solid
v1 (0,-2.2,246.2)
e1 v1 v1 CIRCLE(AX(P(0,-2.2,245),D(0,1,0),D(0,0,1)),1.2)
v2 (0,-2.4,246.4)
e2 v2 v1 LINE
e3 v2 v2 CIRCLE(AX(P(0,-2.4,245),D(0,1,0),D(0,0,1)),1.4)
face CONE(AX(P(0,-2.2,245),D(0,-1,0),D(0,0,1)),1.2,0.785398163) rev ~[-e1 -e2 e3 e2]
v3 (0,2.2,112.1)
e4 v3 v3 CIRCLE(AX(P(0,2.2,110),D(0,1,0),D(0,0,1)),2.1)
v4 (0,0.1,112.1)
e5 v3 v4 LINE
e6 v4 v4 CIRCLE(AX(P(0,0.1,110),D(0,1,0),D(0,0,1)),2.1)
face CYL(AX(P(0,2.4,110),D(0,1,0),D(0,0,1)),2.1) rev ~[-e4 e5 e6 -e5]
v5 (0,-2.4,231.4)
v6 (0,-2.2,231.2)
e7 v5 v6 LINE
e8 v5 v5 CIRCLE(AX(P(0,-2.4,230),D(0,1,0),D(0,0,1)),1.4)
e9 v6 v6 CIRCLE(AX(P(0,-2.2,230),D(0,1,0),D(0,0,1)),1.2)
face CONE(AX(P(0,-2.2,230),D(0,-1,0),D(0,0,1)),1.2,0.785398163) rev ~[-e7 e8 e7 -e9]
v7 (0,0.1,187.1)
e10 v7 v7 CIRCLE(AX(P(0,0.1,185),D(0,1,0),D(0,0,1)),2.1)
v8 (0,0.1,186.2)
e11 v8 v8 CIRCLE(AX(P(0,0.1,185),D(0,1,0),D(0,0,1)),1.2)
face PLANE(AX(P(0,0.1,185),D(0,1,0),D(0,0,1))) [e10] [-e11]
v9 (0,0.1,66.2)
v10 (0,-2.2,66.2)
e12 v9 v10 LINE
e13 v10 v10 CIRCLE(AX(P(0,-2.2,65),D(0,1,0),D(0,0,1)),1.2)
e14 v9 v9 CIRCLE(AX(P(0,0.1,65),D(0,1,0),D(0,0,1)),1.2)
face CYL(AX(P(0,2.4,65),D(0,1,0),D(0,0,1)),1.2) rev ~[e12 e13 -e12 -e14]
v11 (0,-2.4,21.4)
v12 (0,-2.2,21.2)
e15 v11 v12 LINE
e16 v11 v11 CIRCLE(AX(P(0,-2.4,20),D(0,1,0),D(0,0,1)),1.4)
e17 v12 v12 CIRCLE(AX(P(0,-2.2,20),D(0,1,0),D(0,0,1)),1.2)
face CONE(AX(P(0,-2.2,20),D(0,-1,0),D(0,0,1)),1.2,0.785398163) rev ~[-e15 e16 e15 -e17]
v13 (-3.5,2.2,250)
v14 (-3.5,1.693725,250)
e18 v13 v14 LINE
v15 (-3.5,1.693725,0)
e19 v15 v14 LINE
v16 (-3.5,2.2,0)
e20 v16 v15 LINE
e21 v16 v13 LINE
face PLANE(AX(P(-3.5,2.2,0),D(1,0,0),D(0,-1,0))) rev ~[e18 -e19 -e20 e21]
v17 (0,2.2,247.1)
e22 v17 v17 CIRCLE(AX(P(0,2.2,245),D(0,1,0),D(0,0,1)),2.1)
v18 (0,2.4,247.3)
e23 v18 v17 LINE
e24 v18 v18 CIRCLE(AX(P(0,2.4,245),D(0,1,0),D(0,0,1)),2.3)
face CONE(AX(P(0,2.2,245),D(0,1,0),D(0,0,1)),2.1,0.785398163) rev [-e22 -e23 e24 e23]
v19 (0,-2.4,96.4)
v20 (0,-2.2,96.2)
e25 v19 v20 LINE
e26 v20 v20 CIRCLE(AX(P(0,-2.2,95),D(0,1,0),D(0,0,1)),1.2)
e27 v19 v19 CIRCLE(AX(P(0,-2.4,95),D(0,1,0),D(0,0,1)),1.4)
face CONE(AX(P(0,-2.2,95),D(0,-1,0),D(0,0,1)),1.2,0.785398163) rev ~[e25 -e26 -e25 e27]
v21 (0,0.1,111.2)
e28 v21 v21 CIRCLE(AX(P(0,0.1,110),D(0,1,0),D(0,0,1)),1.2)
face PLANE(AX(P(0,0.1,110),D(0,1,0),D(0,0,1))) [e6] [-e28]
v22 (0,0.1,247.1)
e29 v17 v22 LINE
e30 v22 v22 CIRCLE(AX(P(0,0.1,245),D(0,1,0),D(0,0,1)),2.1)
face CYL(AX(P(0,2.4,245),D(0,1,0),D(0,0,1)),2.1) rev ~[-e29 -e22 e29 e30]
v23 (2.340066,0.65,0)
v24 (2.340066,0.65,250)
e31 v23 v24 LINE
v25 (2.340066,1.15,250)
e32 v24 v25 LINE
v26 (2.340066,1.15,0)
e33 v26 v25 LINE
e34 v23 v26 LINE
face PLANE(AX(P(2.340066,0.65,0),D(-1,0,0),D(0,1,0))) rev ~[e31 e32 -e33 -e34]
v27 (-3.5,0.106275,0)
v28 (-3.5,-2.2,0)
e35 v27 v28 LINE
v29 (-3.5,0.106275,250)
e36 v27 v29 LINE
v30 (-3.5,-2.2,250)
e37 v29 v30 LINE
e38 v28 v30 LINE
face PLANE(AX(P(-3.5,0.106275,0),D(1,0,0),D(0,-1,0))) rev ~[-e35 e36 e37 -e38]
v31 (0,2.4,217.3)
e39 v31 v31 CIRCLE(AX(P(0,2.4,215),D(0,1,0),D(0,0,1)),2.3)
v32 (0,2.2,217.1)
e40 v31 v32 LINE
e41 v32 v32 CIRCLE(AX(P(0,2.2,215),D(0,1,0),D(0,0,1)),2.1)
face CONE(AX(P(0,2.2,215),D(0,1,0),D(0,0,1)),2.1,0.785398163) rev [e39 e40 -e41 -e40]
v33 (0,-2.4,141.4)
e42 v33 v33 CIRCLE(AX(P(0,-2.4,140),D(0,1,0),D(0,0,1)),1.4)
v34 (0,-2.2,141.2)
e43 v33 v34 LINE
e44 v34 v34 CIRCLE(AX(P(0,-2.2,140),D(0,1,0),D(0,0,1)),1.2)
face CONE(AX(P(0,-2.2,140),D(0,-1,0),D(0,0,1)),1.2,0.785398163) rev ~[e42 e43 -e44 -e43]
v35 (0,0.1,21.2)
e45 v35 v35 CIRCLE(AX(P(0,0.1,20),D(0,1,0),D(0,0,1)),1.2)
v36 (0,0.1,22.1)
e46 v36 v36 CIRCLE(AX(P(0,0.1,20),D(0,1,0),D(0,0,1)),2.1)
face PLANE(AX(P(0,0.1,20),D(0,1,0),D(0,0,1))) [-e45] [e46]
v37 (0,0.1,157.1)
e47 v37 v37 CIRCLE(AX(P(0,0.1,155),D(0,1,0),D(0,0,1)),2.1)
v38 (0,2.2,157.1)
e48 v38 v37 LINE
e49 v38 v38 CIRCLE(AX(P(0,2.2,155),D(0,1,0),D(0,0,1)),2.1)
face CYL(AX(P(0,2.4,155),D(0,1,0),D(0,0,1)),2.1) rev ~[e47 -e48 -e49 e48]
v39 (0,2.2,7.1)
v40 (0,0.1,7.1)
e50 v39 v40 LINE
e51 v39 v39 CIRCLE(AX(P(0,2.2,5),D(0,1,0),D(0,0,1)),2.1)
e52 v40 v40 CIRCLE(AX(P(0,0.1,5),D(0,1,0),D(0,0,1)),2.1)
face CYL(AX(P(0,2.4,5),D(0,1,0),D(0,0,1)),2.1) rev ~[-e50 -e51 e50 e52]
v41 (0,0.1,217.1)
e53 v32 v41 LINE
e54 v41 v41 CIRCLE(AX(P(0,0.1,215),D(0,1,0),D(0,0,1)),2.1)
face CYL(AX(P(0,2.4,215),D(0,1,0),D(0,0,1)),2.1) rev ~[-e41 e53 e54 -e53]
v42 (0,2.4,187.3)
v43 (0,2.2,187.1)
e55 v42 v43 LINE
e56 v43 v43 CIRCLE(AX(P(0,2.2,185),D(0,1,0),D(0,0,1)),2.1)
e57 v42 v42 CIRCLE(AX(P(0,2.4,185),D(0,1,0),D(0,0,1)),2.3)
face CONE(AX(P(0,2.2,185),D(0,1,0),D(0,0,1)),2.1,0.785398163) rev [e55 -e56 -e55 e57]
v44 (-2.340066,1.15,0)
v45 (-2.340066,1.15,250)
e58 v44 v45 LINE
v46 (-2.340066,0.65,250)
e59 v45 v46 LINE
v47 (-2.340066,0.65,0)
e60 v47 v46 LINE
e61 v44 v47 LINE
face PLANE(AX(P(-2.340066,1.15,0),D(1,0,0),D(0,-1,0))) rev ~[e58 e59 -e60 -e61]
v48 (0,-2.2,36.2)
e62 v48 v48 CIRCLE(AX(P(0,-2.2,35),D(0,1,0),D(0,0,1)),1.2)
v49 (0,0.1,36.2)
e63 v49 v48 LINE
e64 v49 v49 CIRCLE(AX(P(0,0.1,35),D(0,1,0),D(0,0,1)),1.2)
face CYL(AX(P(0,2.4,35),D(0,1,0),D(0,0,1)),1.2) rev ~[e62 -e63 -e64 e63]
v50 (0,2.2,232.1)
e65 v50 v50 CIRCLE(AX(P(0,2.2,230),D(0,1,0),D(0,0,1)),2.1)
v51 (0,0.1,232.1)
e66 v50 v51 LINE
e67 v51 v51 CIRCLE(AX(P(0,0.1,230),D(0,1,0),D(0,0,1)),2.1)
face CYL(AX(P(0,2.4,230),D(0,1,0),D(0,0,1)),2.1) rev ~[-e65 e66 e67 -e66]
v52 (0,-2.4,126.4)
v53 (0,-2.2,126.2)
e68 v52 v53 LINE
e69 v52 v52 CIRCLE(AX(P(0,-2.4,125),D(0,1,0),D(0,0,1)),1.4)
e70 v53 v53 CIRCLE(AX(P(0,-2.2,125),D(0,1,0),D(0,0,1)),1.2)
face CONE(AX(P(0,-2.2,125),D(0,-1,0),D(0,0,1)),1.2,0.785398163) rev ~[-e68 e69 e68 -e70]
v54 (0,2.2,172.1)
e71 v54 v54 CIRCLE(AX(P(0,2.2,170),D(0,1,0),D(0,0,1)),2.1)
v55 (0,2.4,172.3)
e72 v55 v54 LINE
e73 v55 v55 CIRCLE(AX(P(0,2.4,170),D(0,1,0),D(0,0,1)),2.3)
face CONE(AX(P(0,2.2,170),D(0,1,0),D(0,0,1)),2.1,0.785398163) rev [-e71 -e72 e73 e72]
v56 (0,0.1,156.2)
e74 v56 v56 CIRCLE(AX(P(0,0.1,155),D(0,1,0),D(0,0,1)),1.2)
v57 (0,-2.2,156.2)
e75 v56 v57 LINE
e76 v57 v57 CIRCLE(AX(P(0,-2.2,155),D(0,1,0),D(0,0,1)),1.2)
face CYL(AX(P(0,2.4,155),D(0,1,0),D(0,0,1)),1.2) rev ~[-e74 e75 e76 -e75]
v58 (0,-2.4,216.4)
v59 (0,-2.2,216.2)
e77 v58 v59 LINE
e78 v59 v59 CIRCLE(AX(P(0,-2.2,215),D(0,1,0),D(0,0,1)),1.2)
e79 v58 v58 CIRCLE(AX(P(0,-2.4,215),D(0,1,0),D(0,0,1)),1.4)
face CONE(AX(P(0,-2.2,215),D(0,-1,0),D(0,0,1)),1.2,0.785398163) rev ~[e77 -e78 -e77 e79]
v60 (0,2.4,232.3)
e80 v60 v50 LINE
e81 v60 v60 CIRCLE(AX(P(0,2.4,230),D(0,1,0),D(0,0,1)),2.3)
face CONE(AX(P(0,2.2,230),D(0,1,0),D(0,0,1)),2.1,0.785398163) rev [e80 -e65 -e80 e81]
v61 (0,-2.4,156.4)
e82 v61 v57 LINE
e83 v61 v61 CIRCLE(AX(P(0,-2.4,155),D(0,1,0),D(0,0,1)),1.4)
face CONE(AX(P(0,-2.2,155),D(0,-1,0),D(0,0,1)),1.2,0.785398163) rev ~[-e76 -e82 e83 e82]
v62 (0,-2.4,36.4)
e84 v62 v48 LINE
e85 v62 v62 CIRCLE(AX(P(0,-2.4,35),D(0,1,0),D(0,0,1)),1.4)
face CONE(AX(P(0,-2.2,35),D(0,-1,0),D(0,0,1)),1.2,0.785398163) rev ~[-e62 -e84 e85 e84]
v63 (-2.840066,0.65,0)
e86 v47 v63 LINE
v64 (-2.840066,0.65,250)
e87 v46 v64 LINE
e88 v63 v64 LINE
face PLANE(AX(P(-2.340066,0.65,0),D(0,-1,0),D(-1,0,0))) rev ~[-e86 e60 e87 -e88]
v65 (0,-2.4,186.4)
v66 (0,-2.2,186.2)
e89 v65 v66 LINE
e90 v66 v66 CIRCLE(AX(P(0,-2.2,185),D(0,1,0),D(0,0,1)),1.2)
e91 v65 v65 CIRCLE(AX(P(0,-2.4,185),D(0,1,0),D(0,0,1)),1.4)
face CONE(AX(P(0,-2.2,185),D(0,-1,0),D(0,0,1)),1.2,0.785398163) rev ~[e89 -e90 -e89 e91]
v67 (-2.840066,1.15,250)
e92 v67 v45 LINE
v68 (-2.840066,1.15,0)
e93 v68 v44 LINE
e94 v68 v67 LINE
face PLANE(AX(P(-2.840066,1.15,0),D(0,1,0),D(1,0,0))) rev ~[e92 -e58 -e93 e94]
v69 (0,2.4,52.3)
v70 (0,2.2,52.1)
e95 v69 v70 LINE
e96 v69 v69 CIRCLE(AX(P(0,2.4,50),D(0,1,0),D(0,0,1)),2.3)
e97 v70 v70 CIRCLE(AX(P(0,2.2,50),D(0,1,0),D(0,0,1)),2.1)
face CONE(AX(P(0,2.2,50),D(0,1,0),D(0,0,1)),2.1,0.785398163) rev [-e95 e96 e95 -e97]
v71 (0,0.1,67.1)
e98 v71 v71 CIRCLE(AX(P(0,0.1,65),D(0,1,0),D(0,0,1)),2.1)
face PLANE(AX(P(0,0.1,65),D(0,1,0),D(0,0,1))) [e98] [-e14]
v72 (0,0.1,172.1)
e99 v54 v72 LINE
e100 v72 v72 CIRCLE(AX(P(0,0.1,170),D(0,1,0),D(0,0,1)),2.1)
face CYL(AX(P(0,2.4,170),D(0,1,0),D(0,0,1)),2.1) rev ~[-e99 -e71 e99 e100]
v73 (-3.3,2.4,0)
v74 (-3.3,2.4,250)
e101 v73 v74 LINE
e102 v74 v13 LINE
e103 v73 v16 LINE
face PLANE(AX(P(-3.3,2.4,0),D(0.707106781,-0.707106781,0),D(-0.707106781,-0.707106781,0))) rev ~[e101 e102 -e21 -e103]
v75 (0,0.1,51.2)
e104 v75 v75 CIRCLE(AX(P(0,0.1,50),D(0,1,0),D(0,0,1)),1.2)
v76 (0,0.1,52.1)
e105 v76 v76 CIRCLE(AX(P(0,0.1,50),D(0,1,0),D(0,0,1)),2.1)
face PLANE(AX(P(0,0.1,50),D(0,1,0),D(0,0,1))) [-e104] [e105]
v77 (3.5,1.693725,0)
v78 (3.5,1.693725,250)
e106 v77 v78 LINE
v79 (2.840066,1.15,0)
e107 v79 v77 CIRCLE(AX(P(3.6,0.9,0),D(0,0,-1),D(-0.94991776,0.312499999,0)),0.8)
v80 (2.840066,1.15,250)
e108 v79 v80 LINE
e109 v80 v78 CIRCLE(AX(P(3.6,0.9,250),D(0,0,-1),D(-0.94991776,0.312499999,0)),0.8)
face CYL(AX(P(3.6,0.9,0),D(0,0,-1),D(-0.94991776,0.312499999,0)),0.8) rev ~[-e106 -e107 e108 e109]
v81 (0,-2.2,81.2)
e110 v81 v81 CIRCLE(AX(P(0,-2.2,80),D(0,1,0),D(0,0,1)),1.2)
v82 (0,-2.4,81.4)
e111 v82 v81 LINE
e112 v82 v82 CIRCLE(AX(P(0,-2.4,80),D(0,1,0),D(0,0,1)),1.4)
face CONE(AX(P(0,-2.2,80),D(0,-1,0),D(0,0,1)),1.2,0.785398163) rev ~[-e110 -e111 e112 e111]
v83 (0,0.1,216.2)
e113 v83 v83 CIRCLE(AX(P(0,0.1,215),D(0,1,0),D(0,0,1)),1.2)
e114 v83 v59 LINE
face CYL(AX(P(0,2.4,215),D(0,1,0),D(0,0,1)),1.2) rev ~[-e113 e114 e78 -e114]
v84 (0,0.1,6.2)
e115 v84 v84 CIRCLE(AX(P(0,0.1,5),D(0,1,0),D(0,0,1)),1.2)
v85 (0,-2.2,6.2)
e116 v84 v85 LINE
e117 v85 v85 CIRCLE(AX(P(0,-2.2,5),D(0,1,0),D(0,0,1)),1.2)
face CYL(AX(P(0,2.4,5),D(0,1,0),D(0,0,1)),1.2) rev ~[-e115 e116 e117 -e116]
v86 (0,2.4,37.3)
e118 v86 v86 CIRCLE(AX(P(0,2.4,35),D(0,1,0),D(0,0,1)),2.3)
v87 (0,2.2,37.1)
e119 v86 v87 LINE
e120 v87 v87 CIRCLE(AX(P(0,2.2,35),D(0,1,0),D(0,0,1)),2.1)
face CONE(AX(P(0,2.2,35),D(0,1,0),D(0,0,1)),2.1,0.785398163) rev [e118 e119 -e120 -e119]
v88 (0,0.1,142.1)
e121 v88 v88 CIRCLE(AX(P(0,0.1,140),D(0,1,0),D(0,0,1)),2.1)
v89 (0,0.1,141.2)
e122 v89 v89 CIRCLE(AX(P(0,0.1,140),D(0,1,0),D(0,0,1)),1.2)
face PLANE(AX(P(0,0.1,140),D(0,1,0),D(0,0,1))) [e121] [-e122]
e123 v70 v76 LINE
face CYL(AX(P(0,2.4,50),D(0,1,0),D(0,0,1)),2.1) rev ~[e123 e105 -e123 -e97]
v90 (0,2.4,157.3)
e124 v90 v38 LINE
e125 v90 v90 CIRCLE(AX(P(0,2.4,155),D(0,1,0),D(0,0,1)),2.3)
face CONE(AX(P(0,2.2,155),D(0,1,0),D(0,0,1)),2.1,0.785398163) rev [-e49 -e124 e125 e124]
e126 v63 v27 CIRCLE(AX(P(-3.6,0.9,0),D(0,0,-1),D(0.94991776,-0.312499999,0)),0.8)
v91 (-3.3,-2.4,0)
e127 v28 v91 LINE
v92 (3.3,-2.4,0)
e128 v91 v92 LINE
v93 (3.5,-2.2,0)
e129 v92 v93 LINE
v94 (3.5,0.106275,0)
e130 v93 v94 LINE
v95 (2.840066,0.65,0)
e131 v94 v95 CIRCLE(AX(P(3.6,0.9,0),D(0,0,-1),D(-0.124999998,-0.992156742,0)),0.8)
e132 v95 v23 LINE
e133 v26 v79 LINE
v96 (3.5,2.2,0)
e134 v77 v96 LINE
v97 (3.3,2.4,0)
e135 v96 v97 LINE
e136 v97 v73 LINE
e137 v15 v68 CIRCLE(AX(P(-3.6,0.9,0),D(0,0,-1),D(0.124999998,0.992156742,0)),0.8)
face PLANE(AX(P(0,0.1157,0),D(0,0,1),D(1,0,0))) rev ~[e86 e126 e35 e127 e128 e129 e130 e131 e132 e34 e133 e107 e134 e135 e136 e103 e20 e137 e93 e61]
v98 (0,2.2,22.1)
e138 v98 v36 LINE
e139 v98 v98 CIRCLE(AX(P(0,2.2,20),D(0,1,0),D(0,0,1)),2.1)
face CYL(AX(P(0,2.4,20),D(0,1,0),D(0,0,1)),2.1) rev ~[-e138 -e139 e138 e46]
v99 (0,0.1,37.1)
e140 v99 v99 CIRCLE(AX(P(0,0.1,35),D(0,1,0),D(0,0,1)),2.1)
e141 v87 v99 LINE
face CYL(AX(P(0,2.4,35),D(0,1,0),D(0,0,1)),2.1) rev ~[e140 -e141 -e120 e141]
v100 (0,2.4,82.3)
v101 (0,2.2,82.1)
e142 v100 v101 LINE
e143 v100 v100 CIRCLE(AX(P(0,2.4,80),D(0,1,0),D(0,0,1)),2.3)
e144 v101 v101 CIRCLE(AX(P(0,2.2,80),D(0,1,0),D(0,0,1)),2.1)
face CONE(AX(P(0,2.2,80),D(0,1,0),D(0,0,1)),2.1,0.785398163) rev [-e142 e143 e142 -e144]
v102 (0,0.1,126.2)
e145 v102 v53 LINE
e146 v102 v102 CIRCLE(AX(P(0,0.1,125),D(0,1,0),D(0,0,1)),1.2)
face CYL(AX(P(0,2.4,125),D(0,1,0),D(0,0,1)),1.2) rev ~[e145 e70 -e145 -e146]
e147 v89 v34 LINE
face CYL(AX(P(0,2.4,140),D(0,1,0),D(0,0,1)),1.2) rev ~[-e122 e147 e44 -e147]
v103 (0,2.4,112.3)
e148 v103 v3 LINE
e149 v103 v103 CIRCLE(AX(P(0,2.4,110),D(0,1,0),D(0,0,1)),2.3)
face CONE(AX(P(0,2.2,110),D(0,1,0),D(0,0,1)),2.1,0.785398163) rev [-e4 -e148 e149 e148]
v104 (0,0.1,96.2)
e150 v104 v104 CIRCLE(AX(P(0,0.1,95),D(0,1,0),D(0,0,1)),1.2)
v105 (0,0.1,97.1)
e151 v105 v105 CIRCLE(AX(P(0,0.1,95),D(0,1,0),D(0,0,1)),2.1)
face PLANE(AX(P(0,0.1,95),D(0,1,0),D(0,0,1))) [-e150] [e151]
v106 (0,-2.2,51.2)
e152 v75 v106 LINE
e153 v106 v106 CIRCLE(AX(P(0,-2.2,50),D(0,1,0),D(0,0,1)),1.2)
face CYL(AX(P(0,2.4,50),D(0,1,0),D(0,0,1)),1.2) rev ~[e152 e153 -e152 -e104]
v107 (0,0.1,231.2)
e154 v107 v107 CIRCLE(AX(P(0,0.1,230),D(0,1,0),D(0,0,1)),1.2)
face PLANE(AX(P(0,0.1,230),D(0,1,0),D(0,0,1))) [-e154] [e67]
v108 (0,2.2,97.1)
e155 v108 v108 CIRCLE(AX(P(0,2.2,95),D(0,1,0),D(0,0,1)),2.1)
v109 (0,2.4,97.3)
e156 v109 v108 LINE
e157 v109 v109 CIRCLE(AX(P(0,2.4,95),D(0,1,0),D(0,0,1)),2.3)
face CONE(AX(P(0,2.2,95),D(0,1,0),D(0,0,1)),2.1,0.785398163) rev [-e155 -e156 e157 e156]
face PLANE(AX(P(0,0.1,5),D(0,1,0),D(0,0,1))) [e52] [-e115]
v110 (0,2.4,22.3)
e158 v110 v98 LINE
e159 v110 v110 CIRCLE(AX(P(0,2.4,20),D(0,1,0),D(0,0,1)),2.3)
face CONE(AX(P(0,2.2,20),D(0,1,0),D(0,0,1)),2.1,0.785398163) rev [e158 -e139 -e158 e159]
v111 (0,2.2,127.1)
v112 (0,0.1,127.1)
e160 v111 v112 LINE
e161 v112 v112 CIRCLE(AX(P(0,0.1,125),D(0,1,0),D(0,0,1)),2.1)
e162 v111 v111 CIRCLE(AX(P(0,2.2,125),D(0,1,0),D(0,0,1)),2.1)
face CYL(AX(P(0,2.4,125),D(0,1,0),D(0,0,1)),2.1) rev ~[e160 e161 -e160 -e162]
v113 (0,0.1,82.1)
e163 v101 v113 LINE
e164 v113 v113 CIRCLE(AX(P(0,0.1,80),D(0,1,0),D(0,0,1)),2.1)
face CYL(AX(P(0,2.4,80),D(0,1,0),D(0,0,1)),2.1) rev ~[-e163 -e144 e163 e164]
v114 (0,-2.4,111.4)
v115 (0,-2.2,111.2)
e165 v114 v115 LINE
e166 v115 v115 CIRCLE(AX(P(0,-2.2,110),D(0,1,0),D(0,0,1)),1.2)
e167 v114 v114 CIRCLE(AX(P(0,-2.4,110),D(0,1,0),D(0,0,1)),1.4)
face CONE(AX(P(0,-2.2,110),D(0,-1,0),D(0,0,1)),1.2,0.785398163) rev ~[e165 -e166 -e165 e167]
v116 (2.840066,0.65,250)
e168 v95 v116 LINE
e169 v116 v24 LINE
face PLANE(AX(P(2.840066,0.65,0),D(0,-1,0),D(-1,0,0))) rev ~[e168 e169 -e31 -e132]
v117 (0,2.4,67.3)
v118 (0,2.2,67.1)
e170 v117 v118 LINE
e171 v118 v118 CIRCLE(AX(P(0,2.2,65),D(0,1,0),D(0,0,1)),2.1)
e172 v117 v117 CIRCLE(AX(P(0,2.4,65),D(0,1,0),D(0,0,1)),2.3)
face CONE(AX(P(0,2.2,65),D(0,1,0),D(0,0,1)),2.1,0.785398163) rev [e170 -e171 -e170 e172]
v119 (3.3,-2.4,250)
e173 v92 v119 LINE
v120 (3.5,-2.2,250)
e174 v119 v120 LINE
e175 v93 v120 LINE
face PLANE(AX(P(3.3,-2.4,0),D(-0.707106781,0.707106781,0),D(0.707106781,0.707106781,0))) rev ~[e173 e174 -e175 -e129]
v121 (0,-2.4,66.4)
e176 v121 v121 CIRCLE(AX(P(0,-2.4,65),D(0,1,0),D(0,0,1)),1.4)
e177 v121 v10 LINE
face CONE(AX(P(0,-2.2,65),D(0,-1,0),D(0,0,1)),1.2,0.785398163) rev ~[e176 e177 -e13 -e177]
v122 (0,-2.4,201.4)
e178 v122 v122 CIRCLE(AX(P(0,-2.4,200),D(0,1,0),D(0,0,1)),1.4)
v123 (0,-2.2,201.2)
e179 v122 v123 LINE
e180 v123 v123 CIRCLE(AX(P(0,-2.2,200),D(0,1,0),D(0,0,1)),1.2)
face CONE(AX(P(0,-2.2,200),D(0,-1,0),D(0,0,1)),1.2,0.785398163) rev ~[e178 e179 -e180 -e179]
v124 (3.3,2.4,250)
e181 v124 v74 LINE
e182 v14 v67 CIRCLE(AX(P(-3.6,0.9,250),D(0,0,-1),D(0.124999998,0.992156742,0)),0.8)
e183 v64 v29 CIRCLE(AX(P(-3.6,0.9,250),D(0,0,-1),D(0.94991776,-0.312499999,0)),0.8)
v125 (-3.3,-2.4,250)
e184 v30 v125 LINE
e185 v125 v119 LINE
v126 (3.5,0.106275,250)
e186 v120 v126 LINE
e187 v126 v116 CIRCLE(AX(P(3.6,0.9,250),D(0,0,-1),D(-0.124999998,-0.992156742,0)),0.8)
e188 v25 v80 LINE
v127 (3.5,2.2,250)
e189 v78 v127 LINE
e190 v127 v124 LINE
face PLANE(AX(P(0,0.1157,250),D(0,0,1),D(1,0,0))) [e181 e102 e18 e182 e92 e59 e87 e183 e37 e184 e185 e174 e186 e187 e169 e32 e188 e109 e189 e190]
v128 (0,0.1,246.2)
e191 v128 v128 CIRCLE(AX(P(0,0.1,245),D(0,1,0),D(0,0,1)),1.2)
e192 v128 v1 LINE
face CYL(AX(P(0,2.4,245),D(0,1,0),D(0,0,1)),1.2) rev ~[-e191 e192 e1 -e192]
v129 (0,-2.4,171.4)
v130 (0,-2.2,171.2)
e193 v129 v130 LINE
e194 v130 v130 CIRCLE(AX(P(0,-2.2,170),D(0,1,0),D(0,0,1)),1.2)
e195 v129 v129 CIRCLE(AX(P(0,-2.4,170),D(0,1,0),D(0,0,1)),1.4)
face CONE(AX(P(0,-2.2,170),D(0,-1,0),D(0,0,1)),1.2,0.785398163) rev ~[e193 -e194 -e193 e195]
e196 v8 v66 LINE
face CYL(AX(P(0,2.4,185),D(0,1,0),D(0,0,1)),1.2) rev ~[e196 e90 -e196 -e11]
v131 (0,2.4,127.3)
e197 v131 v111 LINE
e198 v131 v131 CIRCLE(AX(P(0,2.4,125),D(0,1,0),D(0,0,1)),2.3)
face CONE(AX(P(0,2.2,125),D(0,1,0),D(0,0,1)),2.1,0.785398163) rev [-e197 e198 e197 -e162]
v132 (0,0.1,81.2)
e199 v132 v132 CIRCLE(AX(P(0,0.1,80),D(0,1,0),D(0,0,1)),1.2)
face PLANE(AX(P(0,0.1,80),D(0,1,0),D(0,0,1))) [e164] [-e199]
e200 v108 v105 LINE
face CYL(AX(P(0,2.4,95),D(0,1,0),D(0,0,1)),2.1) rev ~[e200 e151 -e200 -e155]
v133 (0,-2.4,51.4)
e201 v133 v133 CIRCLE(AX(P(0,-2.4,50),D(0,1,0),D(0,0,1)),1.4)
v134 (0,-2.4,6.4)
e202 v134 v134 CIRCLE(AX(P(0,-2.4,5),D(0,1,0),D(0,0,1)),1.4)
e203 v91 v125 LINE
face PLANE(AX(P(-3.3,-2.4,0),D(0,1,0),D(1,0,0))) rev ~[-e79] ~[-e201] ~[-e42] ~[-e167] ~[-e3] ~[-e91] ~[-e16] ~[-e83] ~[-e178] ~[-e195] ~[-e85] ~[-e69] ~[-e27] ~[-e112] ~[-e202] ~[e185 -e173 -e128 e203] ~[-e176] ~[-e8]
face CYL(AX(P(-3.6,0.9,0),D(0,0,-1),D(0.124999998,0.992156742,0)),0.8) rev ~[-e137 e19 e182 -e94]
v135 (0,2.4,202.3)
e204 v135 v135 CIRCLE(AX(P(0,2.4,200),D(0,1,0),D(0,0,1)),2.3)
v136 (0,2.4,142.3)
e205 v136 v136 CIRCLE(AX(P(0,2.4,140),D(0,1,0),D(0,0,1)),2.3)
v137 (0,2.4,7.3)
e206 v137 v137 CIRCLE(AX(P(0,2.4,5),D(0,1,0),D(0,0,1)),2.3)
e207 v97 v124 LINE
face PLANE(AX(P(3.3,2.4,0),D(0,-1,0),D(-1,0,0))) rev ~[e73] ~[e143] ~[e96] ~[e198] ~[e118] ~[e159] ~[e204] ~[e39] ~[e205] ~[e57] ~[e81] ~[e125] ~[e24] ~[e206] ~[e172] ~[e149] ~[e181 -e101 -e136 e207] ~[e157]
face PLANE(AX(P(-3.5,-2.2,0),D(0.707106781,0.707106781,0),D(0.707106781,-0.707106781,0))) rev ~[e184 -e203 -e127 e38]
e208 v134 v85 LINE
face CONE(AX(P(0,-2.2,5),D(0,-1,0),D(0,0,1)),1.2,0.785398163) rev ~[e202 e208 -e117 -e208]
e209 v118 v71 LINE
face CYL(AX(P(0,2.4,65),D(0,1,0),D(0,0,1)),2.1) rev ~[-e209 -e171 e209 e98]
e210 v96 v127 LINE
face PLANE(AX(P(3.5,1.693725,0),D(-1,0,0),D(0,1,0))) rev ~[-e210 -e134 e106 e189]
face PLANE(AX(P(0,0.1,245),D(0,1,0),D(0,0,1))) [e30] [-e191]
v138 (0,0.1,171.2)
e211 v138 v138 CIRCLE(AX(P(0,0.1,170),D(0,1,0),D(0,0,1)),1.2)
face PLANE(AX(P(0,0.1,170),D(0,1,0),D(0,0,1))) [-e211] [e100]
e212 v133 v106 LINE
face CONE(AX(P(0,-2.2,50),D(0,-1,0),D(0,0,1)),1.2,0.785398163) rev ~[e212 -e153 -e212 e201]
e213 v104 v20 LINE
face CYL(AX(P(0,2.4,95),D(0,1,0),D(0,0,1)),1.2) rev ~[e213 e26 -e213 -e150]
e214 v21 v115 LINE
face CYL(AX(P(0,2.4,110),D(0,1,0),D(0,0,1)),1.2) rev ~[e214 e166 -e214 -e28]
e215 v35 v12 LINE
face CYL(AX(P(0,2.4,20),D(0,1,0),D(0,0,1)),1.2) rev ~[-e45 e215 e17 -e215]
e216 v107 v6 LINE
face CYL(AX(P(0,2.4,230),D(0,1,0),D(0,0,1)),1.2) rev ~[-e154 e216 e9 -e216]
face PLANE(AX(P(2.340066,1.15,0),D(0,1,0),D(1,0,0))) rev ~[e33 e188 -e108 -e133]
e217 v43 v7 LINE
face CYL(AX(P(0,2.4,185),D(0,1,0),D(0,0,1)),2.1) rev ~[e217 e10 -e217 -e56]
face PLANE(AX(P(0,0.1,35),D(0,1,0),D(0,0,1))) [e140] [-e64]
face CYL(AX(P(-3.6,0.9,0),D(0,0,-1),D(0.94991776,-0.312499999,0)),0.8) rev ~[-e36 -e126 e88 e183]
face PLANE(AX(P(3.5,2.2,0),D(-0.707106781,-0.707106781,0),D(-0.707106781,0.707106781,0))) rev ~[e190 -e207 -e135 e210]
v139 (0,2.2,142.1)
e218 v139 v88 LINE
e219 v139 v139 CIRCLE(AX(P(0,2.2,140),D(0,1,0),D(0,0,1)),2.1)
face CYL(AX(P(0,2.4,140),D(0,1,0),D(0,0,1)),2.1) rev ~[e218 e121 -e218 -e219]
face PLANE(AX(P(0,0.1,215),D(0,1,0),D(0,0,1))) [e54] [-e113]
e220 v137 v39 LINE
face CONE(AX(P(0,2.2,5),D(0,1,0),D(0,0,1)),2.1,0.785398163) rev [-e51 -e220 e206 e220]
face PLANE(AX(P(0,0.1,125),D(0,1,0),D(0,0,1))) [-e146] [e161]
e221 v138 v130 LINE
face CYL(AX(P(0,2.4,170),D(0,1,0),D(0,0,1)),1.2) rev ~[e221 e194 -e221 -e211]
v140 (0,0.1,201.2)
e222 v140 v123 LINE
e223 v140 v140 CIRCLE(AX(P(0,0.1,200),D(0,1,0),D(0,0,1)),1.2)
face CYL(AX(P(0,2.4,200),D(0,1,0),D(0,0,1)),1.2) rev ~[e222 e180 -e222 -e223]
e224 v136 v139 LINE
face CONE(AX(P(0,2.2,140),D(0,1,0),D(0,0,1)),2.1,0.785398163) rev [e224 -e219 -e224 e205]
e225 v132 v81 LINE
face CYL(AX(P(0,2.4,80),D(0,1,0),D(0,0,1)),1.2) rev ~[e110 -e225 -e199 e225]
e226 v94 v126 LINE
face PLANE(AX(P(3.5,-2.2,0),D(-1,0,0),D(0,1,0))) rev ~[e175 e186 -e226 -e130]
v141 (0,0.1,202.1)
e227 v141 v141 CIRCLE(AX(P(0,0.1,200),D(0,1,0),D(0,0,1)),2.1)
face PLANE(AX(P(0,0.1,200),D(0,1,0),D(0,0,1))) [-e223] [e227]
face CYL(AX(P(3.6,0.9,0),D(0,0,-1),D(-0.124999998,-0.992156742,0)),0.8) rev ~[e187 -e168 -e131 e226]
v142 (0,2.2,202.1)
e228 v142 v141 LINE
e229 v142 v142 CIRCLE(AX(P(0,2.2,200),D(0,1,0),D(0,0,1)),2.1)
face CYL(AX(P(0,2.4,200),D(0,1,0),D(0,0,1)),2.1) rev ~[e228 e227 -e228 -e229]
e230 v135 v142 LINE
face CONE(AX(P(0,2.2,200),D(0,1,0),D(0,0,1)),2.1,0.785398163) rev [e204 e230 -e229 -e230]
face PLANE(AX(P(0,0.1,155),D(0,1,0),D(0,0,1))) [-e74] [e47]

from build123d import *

# Parameters (mm, degrees)
EXTRUDE1_DEPTH             = 250
EXTRUDE2_REACH             = 252.071
SKETCH2_R                  = 1.2
SKETCH_R                   = 2.1
SKETCH_R_2                 = 1.2
EXTRUDE4_DEPTH             = 2.3
CHAMFER1_SIZE              = 0.2
LPATTERN1_COUNT            = 17
LPATTERN1_PITCH            = 15
CHAMFER1_OF_LPATTERN1_SIZE = 0.2


with BuildPart() as part:
    # Sketch1 → Extrude1 (new body)
    with BuildSketch(Plane.XY):
        with BuildLine():
            Line((-3.3, -2.4), (3.3, -2.4))
            Line((3.3, -2.4), (3.5, -2.2))
            Line((3.5, -2.2), (3.5, 0.106274607))
            ThreePointArc((3.5, 0.106274607), (3.091294745, 0.282570681), (2.840065792, 0.65))
            Line((2.840065792, 0.65), (2.340065792, 0.65))
            Line((2.340065792, 0.65), (2.340065792, 1.15))
            Line((2.340065792, 1.15), (2.840065792, 1.15))
            ThreePointArc((2.840065792, 1.15), (3.091294745, 1.517429319), (3.5, 1.693725393))
            Line((3.5, 1.693725393), (3.5, 2.2))
            Line((3.5, 2.2), (3.3, 2.4))
            Line((3.3, 2.4), (-3.3, 2.4))
            Line((-3.3, 2.4), (-3.5, 2.2))
            Line((-3.5, 2.2), (-3.5, 1.693725393))
            ThreePointArc((-3.5, 1.693725393), (-3.091294745, 1.517429319), (-2.840065792, 1.15))
            Line((-2.840065792, 1.15), (-2.340065792, 1.15))
            Line((-2.340065792, 1.15), (-2.340065792, 0.65))
            Line((-2.340065792, 0.65), (-2.840065792, 0.65))
            ThreePointArc((-2.840065792, 0.65), (-3.091294745, 0.282570681), (-3.5, 0.106274607))
            Line((-3.5, 0.106274607), (-3.5, -2.2))
            Line((-3.5, -2.2), (-3.3, -2.4))
        make_face()
    extrude(amount=EXTRUDE1_DEPTH)

    # Sketch2 → Extrude2 (cut, up to next)
    with BuildSketch(Plane(origin=(0, 2.4, 0), x_dir=(1, 0, 0), z_dir=(0, 1, 0)), mode=Mode.PRIVATE) as extrude2_sk1:
        with Locations(Location((0, -5, 0), (0, 0, 270))):
            Circle(SKETCH2_R)
    extrude2_tool1 = extrude(extrude2_sk1.sketch, amount=-EXTRUDE2_REACH, mode=Mode.PRIVATE) & part.part
    extrude2 = extrude2_tool1.solids().sort_by_distance((0, 2.4, 5))[0]
    add(extrude2, mode=Mode.SUBTRACT)

    # Sketch → Extrude4 (cut)
    with BuildSketch(Plane(origin=(0, 2.4, 0), x_dir=(1, 0, 0), z_dir=(0, 1, 0))):
        with Locations(Location((0, -5, 0), (0, 0, 270))):
            Circle(SKETCH_R)
        with Locations(Location((0, -5, 0), (0, 0, 270))):
            Circle(SKETCH_R_2, mode=Mode.SUBTRACT)
    extrude4 = extrude(amount=-EXTRUDE4_DEPTH, mode=Mode.SUBTRACT)

    # Chamfer1
    chamfer1_edges = [part.edges().sort_by_distance(p)[0] for p in [
        (0, -2.4, 3.8),
        (0, 2.4, 2.9),
    ]]
    chamfer(chamfer1_edges, length=CHAMFER1_SIZE)

    # LPattern1: Extrude2, Extrude4 ×17
    with Locations(*[(0, 0, i * LPATTERN1_PITCH) for i in range(1, LPATTERN1_COUNT)]):
        add(extrude2, mode=Mode.SUBTRACT)
        add(extrude4, mode=Mode.SUBTRACT)

    # Chamfer1 of LPattern1
    chamfer1_of_lpattern1_edges = [part.edges().sort_by_distance(p)[0] for p in [
        (0, -2.4, 18.8),
        (0, 2.4, 17.9),
        (0, -2.4, 33.8),
        (0, 2.4, 32.9),
        (0, -2.4, 48.8),
        (0, 2.4, 47.9),
        (0, -2.4, 63.8),
        (0, 2.4, 62.9),
        (0, -2.4, 78.8),
        (0, 2.4, 77.9),
        (0, -2.4, 93.8),
        (0, 2.4, 92.9),
        (0, -2.4, 108.8),
        (0, 2.4, 107.9),
        (0, -2.4, 123.8),
        (0, 2.4, 122.9),
        (0, -2.4, 138.8),
        (0, 2.4, 137.9),
        (0, -2.4, 153.8),
        (0, 2.4, 152.9),
        (0, -2.4, 168.8),
        (0, 2.4, 167.9),
        (0, -2.4, 183.8),
        (0, 2.4, 182.9),
        (0, -2.4, 198.8),
        (0, 2.4, 197.9),
        (0, -2.4, 213.8),
        (0, 2.4, 212.9),
        (0, -2.4, 228.8),
        (0, 2.4, 227.9),
        (0, -2.4, 243.8),
        (0, 2.4, 242.9),
    ]]
    chamfer(chamfer1_of_lpattern1_edges, length=CHAMFER1_OF_LPATTERN1_SIZE)


solid = part.part
